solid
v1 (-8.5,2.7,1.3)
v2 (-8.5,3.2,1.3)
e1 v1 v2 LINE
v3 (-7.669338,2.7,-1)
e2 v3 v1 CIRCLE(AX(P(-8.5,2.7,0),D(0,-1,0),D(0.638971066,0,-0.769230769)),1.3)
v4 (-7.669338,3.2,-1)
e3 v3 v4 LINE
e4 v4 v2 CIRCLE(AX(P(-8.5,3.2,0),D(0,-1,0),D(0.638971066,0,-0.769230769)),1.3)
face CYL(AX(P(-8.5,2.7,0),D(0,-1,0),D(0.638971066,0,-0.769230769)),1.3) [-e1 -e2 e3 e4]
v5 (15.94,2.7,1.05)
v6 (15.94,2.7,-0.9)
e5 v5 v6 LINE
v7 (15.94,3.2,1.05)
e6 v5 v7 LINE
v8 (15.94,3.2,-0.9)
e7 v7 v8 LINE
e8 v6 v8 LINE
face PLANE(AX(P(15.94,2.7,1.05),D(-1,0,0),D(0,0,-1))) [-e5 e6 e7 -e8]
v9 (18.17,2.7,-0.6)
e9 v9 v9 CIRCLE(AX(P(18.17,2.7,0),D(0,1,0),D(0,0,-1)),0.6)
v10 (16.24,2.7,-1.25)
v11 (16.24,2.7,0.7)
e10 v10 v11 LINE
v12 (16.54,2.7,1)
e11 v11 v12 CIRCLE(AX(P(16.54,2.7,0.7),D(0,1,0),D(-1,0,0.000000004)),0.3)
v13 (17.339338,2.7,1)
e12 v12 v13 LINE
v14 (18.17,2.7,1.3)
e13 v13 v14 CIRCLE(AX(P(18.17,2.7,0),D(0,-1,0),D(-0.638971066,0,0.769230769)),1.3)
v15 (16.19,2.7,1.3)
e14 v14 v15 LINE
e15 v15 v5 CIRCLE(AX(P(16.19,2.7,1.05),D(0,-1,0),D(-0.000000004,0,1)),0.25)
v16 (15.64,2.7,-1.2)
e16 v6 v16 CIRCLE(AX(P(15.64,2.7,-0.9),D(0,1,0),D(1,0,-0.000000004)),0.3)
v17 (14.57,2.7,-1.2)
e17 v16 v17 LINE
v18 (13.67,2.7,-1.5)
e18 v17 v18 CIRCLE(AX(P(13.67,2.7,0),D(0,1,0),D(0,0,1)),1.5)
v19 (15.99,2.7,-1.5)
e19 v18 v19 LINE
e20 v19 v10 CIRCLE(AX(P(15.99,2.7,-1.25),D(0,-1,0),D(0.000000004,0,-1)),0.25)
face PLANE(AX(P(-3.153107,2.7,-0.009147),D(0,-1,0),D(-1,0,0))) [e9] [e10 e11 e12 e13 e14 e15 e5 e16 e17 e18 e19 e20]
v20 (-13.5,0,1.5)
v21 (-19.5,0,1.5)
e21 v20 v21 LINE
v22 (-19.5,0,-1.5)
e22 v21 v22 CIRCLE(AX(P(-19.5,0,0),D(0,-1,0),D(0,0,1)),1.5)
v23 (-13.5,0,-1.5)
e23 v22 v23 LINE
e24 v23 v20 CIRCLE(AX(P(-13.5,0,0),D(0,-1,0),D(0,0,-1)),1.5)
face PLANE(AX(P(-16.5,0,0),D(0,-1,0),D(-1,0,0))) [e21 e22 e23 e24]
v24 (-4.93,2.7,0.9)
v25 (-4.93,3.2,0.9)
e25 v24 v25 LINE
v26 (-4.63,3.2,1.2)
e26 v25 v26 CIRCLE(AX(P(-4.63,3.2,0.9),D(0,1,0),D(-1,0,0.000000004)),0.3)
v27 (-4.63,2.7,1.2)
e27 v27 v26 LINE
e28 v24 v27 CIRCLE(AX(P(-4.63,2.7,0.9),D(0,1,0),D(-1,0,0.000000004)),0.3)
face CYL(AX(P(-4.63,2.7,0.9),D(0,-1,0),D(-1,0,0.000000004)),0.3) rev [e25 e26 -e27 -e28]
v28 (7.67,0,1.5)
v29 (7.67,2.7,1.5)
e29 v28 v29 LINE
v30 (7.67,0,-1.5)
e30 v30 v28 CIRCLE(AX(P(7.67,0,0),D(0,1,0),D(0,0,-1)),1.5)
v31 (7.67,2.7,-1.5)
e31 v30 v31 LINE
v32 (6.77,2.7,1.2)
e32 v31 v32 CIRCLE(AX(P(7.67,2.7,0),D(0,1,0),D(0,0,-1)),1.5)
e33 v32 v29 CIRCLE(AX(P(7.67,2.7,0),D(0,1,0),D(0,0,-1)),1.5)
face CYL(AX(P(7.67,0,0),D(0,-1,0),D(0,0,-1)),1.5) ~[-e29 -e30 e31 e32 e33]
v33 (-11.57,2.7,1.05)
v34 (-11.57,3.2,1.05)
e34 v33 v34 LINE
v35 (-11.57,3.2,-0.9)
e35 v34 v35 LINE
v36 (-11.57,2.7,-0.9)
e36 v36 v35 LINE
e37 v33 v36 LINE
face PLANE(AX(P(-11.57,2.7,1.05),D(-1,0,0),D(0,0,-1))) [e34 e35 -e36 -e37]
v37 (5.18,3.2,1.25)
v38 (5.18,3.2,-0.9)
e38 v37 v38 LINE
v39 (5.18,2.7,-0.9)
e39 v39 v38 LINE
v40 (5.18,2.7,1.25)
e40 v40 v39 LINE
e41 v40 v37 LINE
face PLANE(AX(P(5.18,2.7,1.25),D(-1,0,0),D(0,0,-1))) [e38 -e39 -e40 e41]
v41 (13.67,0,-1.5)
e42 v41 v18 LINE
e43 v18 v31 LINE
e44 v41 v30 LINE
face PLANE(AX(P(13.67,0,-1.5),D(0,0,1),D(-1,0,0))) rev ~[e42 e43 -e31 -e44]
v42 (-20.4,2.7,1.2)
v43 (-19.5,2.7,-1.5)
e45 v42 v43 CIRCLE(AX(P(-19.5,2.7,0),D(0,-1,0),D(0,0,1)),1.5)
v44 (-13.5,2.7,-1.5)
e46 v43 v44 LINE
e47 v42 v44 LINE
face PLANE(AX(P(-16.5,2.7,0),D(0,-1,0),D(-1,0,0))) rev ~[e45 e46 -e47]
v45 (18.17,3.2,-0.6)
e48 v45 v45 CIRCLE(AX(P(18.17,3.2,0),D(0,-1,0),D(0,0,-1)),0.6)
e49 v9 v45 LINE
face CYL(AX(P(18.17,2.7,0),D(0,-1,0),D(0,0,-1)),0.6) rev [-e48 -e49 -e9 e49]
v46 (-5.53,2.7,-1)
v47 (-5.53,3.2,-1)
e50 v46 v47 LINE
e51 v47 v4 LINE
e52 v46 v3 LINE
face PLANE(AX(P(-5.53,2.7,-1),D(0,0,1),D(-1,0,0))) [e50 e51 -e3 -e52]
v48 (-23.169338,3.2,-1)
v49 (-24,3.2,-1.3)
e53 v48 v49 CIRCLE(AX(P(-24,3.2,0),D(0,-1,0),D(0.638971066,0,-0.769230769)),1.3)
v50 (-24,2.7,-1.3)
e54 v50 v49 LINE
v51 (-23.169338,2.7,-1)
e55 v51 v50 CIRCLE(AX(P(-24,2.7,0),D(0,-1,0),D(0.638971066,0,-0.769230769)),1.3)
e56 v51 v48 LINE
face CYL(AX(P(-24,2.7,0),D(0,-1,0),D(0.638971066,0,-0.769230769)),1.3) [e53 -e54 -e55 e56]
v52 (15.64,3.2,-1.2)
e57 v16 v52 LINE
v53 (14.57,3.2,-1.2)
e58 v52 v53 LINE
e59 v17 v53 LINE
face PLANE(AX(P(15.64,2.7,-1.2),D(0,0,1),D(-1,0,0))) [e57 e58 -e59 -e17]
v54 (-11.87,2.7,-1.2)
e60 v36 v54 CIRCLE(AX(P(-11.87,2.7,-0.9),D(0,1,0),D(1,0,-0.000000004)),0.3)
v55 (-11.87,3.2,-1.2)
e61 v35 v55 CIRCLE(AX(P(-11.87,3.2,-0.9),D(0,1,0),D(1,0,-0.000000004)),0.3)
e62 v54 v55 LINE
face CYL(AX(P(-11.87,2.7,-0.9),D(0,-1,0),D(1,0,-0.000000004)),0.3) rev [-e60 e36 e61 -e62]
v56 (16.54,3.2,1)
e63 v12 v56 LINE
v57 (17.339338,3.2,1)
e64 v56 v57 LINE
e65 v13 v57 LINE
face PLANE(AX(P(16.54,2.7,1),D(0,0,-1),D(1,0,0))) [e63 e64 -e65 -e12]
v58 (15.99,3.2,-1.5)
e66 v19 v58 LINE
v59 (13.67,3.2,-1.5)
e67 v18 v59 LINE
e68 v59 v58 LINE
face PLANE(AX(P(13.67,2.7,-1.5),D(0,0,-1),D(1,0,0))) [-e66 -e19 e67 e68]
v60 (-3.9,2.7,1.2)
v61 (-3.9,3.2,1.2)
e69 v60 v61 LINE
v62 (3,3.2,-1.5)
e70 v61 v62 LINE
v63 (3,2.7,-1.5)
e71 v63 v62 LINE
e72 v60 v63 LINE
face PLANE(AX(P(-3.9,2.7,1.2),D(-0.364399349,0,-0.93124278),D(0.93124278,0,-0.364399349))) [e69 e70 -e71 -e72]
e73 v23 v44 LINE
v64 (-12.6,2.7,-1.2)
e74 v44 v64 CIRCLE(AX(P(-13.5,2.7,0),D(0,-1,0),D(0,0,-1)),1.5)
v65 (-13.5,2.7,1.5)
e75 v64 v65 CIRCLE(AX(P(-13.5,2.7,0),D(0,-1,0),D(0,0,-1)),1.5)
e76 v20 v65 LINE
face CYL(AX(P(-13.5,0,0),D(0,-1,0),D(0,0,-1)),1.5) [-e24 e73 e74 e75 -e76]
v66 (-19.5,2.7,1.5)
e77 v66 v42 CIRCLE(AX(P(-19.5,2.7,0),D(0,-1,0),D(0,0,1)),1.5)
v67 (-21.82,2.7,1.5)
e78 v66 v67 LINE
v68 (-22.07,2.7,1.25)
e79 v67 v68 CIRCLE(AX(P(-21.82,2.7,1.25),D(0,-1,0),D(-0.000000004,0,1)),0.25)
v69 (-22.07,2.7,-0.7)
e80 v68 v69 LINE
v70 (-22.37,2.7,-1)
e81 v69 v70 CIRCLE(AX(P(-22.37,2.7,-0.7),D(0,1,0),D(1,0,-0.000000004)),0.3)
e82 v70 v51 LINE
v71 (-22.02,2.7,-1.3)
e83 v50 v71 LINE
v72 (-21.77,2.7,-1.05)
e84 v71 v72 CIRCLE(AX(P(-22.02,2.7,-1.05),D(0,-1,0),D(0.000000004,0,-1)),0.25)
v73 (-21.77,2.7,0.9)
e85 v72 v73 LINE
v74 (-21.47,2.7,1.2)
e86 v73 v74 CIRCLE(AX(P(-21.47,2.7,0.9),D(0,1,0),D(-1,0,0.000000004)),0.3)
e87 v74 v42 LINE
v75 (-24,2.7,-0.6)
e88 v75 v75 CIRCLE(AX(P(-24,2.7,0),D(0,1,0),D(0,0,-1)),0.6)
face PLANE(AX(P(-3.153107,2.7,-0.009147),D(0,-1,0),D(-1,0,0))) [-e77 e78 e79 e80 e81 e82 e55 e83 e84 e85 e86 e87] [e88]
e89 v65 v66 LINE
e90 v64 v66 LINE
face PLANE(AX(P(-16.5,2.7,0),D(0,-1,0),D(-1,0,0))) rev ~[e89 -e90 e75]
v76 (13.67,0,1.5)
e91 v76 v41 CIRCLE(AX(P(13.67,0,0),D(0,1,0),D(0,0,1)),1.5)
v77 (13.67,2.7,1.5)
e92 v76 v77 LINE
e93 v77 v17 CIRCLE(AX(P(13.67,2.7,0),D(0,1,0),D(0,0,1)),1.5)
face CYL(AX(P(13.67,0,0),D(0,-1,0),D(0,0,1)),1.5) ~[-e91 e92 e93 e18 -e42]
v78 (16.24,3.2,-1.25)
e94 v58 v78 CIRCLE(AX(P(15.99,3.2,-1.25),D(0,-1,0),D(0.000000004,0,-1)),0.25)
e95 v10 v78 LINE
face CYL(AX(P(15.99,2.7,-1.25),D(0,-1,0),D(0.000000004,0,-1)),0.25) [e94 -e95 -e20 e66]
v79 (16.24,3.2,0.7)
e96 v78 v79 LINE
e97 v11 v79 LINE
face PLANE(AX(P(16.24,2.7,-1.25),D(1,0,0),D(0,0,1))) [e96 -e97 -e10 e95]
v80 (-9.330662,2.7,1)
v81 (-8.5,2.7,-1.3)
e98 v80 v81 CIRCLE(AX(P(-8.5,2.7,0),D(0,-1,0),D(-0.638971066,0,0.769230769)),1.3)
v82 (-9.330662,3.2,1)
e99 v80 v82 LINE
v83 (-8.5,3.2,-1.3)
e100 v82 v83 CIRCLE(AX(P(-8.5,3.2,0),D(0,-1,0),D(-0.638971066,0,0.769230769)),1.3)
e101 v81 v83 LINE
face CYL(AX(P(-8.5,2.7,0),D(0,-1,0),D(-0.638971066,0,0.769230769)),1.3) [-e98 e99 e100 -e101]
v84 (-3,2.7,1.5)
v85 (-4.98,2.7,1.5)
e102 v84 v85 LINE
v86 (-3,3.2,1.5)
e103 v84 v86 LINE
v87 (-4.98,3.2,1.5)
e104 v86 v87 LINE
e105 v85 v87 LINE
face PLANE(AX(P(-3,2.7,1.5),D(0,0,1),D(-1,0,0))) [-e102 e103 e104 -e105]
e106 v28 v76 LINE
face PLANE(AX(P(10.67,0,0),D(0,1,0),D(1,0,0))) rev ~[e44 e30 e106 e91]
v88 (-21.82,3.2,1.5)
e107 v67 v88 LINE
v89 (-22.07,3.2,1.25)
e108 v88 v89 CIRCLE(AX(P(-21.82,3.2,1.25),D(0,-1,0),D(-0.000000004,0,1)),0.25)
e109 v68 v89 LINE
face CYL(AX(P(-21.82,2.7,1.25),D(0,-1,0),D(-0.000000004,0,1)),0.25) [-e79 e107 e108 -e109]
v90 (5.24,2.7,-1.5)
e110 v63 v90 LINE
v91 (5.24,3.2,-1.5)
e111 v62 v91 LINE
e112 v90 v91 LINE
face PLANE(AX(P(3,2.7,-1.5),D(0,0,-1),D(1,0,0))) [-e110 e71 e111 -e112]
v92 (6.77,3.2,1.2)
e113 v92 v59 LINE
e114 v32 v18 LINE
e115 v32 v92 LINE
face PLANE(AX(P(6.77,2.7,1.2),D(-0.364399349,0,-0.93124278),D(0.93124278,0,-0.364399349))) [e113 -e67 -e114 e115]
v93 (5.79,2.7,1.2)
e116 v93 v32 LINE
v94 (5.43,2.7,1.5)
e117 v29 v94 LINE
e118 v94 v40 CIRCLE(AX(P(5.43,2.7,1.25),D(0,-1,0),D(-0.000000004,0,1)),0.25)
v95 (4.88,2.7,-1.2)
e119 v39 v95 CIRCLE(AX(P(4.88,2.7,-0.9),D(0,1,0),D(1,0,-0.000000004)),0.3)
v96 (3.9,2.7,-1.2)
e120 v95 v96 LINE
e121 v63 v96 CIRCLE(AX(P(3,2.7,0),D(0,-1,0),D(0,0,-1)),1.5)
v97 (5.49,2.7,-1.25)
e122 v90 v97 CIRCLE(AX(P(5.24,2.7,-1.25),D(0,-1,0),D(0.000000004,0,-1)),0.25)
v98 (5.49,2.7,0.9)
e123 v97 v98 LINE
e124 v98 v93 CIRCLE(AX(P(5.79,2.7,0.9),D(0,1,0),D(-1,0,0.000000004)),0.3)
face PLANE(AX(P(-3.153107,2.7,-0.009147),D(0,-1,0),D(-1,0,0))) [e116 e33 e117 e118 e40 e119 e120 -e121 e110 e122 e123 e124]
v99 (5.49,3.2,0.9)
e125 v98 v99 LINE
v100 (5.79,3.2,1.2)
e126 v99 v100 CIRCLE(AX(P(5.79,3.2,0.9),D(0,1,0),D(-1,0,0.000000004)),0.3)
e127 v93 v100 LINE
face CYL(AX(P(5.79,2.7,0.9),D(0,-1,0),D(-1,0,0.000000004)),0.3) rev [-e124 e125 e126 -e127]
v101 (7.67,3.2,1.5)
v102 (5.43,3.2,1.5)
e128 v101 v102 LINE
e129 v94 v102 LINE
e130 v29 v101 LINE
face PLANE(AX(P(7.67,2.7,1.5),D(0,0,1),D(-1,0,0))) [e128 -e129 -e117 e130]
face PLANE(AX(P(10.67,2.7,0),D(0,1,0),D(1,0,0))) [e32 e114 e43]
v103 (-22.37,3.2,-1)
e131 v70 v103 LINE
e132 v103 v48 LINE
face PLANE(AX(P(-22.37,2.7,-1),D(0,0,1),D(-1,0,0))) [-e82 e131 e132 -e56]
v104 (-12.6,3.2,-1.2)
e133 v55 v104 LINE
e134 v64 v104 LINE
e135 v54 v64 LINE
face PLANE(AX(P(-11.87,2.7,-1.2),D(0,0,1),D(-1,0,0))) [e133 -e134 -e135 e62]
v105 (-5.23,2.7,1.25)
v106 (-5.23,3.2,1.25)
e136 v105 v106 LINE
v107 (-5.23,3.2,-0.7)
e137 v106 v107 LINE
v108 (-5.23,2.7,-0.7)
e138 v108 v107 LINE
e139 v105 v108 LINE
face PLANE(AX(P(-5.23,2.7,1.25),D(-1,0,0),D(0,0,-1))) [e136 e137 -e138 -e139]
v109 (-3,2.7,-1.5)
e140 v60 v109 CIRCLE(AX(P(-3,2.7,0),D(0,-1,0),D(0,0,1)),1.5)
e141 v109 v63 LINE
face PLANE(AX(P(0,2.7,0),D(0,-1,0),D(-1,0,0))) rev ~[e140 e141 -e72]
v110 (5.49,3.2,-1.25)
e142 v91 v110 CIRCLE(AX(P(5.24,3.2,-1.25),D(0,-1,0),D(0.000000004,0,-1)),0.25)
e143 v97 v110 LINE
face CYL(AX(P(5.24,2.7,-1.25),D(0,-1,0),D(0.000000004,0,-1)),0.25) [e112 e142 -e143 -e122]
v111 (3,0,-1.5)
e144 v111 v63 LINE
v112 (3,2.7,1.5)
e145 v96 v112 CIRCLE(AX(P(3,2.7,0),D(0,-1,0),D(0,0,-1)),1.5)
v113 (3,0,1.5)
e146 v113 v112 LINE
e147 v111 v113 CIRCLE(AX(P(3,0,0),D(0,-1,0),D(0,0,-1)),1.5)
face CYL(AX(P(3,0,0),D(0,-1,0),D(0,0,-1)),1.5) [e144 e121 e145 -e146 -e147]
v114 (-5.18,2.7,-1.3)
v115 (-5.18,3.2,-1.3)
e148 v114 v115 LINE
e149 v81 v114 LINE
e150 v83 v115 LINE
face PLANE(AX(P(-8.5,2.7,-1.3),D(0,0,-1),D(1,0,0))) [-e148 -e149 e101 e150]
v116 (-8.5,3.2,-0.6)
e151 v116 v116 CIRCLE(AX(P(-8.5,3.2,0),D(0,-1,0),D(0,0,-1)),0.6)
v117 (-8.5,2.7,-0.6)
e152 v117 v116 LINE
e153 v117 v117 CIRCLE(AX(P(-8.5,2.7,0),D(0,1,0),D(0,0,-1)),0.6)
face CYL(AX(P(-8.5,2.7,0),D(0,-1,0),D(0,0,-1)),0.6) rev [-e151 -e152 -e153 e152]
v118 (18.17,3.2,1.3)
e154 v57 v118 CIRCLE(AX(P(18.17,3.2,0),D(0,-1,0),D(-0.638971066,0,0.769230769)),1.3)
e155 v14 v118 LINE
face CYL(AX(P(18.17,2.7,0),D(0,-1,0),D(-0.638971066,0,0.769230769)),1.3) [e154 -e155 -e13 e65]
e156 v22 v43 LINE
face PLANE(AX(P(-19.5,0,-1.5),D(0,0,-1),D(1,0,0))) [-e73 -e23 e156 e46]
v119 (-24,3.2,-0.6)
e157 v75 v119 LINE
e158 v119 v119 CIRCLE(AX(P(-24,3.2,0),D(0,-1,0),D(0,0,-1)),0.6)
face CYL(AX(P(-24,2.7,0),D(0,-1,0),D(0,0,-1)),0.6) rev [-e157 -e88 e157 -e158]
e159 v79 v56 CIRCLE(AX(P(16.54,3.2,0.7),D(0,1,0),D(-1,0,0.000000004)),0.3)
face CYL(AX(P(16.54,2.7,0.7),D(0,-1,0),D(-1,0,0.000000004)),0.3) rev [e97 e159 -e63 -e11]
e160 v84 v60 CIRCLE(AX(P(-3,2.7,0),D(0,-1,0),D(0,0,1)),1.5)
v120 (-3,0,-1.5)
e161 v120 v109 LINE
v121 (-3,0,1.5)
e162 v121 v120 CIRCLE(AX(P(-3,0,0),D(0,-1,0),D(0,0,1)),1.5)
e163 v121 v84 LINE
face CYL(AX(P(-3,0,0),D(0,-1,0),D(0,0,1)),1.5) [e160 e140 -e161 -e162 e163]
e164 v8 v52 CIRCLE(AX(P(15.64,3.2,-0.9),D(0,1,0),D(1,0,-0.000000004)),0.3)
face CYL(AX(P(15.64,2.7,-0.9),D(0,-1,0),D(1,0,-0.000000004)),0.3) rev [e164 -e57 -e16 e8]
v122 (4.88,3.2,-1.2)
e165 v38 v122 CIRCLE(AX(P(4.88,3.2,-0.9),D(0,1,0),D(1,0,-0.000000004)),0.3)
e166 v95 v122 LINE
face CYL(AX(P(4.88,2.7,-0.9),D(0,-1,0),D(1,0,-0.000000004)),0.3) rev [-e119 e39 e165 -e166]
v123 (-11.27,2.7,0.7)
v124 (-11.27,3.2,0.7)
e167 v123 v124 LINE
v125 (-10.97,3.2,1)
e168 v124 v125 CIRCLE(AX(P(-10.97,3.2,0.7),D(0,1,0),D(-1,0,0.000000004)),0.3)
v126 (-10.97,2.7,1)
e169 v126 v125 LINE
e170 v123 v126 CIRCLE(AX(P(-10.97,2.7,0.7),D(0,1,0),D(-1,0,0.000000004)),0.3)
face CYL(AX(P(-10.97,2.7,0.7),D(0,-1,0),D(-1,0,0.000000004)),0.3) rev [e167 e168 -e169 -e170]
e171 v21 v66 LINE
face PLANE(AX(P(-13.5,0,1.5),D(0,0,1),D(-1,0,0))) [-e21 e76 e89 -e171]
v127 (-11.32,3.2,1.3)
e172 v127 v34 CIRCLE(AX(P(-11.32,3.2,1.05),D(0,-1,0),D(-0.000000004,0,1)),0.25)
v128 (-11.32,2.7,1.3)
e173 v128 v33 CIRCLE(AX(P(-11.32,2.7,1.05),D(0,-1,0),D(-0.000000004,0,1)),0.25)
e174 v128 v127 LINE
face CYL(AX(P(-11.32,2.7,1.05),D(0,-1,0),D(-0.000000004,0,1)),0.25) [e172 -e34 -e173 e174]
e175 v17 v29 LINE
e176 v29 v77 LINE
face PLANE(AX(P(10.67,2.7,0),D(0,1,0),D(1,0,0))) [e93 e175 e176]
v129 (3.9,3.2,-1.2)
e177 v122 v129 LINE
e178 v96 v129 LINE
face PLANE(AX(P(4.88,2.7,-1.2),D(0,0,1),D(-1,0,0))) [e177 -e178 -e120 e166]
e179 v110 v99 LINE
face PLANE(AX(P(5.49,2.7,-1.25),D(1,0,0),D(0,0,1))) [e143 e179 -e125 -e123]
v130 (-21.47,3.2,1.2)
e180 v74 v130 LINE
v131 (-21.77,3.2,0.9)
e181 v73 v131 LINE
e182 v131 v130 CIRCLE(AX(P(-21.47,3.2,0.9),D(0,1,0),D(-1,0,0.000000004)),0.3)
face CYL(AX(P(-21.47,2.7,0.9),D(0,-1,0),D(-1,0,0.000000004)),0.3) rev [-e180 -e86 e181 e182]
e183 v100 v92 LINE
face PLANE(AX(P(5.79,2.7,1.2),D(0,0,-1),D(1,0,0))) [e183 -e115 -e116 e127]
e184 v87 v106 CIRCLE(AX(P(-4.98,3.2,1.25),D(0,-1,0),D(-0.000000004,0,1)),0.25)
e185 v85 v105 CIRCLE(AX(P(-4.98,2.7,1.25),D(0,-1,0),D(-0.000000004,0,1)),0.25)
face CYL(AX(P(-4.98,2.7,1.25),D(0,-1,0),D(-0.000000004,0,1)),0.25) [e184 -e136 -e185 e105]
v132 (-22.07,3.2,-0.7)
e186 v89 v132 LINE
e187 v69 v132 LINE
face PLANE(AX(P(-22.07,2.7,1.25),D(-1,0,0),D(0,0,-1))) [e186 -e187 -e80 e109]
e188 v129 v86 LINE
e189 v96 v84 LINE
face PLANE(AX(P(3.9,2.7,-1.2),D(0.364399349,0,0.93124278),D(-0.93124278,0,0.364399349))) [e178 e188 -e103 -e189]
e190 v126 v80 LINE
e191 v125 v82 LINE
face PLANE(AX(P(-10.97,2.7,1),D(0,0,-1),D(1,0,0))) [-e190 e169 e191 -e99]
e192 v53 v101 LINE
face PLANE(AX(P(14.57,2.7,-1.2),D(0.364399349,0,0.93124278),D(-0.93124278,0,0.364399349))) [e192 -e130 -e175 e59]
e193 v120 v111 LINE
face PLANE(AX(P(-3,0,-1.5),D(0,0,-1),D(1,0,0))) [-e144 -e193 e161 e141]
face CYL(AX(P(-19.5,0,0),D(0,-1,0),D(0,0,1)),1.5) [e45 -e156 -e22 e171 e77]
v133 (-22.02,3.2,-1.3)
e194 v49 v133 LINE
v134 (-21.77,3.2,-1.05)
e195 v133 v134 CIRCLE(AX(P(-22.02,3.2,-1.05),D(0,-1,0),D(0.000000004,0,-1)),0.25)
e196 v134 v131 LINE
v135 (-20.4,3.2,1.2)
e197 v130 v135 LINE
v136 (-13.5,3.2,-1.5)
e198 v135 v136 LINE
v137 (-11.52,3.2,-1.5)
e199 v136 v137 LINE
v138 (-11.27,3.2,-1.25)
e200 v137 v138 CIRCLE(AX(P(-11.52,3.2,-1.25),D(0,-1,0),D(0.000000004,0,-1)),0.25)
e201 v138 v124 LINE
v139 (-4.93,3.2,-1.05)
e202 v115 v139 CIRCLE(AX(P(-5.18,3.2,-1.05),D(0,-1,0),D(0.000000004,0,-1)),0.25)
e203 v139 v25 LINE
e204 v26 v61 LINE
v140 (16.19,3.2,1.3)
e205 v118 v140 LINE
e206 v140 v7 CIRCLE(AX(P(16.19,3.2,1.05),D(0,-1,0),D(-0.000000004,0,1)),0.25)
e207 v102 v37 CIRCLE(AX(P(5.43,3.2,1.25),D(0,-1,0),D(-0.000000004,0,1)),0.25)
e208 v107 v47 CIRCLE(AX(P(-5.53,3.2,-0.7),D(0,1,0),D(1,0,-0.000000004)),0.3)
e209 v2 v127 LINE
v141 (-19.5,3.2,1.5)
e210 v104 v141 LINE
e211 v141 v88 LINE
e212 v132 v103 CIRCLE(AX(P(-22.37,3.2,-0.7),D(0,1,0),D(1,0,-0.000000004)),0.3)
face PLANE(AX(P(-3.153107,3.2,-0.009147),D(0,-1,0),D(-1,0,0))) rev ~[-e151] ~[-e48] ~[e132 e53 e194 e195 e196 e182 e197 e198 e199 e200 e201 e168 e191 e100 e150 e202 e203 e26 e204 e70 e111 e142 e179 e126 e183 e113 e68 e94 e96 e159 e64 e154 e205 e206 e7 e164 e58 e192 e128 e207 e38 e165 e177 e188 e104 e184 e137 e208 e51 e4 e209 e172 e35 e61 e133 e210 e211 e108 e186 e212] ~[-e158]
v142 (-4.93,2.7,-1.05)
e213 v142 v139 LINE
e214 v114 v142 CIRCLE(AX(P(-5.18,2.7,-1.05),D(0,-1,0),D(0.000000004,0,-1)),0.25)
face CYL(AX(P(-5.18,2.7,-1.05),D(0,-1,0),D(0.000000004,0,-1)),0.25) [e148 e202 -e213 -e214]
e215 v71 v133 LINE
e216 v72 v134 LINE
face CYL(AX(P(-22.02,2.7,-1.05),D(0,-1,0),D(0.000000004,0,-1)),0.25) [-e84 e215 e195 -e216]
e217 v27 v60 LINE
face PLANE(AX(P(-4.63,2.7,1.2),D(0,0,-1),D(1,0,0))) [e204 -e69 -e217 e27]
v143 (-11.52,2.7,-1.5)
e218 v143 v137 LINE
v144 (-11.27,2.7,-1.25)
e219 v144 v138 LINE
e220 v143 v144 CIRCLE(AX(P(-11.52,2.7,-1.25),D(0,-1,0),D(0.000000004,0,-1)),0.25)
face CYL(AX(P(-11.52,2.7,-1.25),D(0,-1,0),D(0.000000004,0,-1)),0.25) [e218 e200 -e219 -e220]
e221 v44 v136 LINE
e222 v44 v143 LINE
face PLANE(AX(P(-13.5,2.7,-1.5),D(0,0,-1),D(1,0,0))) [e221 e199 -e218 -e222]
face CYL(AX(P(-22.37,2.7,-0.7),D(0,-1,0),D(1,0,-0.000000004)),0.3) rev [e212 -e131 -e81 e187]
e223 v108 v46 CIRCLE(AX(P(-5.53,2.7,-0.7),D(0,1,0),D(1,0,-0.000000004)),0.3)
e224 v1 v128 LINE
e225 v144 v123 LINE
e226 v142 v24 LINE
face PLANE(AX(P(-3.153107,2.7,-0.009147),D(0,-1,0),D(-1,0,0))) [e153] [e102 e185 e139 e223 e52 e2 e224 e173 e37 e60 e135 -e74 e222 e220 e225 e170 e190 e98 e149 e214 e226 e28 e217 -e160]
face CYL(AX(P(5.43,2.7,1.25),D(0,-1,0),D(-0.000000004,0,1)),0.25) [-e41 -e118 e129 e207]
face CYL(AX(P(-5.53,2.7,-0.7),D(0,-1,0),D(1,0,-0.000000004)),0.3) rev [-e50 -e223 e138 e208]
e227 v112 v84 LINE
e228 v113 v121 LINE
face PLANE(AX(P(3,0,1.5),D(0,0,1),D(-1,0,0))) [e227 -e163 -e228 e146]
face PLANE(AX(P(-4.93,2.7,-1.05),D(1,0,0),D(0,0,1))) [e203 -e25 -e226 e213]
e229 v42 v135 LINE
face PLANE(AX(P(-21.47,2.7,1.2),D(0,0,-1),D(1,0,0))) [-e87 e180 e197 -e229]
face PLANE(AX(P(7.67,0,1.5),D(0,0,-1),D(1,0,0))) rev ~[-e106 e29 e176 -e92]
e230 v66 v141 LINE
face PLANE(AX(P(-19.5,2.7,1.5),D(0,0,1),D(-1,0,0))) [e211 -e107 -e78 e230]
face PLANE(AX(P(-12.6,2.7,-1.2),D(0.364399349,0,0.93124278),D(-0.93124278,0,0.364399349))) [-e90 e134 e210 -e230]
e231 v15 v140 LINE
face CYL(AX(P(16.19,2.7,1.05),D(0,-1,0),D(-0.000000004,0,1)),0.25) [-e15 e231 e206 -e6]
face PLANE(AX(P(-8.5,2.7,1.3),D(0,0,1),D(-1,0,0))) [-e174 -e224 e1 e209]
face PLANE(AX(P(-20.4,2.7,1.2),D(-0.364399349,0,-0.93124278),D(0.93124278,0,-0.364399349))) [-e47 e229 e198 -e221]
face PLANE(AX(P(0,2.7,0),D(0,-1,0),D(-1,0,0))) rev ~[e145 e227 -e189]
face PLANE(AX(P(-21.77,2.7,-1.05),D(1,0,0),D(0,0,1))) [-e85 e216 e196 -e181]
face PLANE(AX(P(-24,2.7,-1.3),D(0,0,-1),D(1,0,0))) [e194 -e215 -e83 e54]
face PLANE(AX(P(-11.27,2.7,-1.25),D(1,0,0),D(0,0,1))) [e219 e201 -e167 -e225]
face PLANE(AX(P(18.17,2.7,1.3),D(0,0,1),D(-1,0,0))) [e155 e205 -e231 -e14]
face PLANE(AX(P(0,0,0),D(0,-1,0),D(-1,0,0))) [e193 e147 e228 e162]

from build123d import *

# Parameters (mm, degrees)
EXTRUDE_1_DEPTH     = 2.7
EXTRUDE_1_2_DEPTH   = 2.7
EXTRUDE_1_3_DEPTH   = 2.7
EXTRUDE_2_DEPTH     = 0.5
CUT_EXTRUDE_1_REACH = 27.488
SKETCH_2_3_R        = 0.6


with BuildPart() as part:
    # 草图1 → 凸台-拉伸1 (new body)
    with BuildSketch(Plane(origin=(0, 0, 0), x_dir=(1, 0, 0), z_dir=(0, 1, 0))):
        with BuildLine():
            Line((3, 1.5), (-3, 1.5))
            ThreePointArc((-3, 1.5), (-4.5, 0), (-3, -1.5))
            Line((-3, -1.5), (3, -1.5))
            ThreePointArc((3, -1.5), (4.5, 0), (3, 1.5))
        make_face()
    extrude(amount=EXTRUDE_1_DEPTH)



with BuildPart() as body_2:
    # 草图1 → Extrude 1 2 (new body)
    with BuildSketch(Plane(origin=(0, 0, 0), x_dir=(1, 0, 0), z_dir=(0, 1, 0))):
        with BuildLine():
            Line((-13.5, 1.5), (-19.5, 1.5))
            ThreePointArc((-19.5, 1.5), (-21, 0), (-19.5, -1.5))
            Line((-19.5, -1.5), (-13.5, -1.5))
            ThreePointArc((-13.5, -1.5), (-12, 0), (-13.5, 1.5))
        make_face()
    extrude(amount=EXTRUDE_1_2_DEPTH)


with BuildPart() as body_3:
    # 草图1 → Extrude 1 3 (new body)
    with BuildSketch(Plane(origin=(0, 0, 0), x_dir=(1, 0, 0), z_dir=(0, 1, 0))):
        with BuildLine():
            Line((13.67, 1.5), (7.67, 1.5))
            ThreePointArc((7.67, 1.5), (6.17, 0), (7.67, -1.5))
            Line((7.67, -1.5), (13.67, -1.5))
            ThreePointArc((13.67, -1.5), (15.17, 0), (13.67, 1.5))
        make_face()
    extrude(amount=EXTRUDE_1_3_DEPTH)


with BuildPart() as part_1:
    add(part.part)

    add(body_2.part)  # 凸台-拉伸2 merges body 2

    add(body_3.part)  # 凸台-拉伸2 merges body 3
    # 草图2 → 凸台-拉伸2 (add)
    with BuildSketch(Plane(origin=(0, 2.7, 0), x_dir=(1, 0, 0), z_dir=(0, 1, 0))):
        with BuildLine():
            Line((-24, 1.3), (-22.02, 1.3))
            ThreePointArc((-22.02, 1.3), (-21.843223305, 1.226776695), (-21.77, 1.05))
            Line((-21.77, 1.05), (-21.77, -0.9))
            ThreePointArc((-21.77, -0.9), (-21.682132034, -1.112132034), (-21.47, -1.2))
            Line((-21.47, -1.2), (-20.4, -1.2))
            Line((-20.4, -1.2), (-13.5, 1.5))
            Line((-13.5, 1.5), (-11.52, 1.5))
            ThreePointArc((-11.52, 1.5), (-11.343223305, 1.426776695), (-11.27, 1.25))
            Line((-11.27, 1.25), (-11.27, -0.7))
            ThreePointArc((-11.27, -0.7), (-11.182132034, -0.912132034), (-10.97, -1))
            Line((-10.97, -1), (-9.330662386, -1))
            ThreePointArc((-9.330662386, -1), (-9.722701926, 0.441588043), (-8.5, 1.3))
            Line((-8.5, 1.3), (-5.18, 1.3))
            ThreePointArc((-5.18, 1.3), (-5.003223305, 1.226776695), (-4.93, 1.05))
            Line((-4.93, 1.05), (-4.93, -0.9))
            ThreePointArc((-4.93, -0.9), (-4.842132034, -1.112132034), (-4.63, -1.2))
            Line((-4.63, -1.2), (-3.9, -1.2))
            Line((-3.9, -1.2), (3, 1.5))
            Line((3, 1.5), (5.24, 1.5))
            ThreePointArc((5.24, 1.5), (5.416776695, 1.426776695), (5.49, 1.25))
            Line((5.49, 1.25), (5.49, -0.9))
            ThreePointArc((5.49, -0.9), (5.577867966, -1.112132034), (5.79, -1.2))
            Line((5.79, -1.2), (6.77, -1.2))
            Line((6.77, -1.2), (13.67, 1.5))
            Line((13.67, 1.5), (15.99, 1.5))
            ThreePointArc((15.99, 1.5), (16.166776695, 1.426776695), (16.24, 1.25))
            Line((16.24, 1.25), (16.24, -0.7))
            ThreePointArc((16.24, -0.7), (16.327867966, -0.912132034), (16.54, -1))
            Line((16.54, -1), (17.339337614, -1))
            ThreePointArc((17.339337614, -1), (18.611588043, 1.222701926), (18.17, -1.3))
            Line((18.17, -1.3), (16.19, -1.3))
            ThreePointArc((16.19, -1.3), (16.013223305, -1.226776695), (15.94, -1.05))
            Line((15.94, -1.05), (15.94, 0.9))
            ThreePointArc((15.94, 0.9), (15.852132034, 1.112132034), (15.64, 1.2))
            Line((15.64, 1.2), (14.57, 1.2))
            Line((14.57, 1.2), (7.67, -1.5))
            Line((7.67, -1.5), (5.43, -1.5))
            ThreePointArc((5.43, -1.5), (5.253223305, -1.426776695), (5.18, -1.25))
            Line((5.18, -1.25), (5.18, 0.9))
            ThreePointArc((5.18, 0.9), (5.092132034, 1.112132034), (4.88, 1.2))
            Line((4.88, 1.2), (3.9, 1.2))
            Line((3.9, 1.2), (-3, -1.5))
            Line((-3, -1.5), (-4.98, -1.5))
            ThreePointArc((-4.98, -1.5), (-5.156776695, -1.426776695), (-5.23, -1.25))
            Line((-5.23, -1.25), (-5.23, 0.7))
            ThreePointArc((-5.23, 0.7), (-5.317867966, 0.912132034), (-5.53, 1))
            Line((-5.53, 1), (-7.669337614, 1))
            ThreePointArc((-7.669337614, 1), (-7.277298074, -0.441588043), (-8.5, -1.3))
            Line((-8.5, -1.3), (-11.32, -1.3))
            ThreePointArc((-11.32, -1.3), (-11.496776695, -1.226776695), (-11.57, -1.05))
            Line((-11.57, -1.05), (-11.57, 0.9))
            ThreePointArc((-11.57, 0.9), (-11.657867966, 1.112132034), (-11.87, 1.2))
            Line((-11.87, 1.2), (-12.6, 1.2))
            Line((-12.6, 1.2), (-19.5, -1.5))
            Line((-19.5, -1.5), (-21.82, -1.5))
            ThreePointArc((-21.82, -1.5), (-21.996776695, -1.426776695), (-22.07, -1.25))
            Line((-22.07, -1.25), (-22.07, 0.7))
            ThreePointArc((-22.07, 0.7), (-22.157867966, 0.912132034), (-22.37, 1))
            Line((-22.37, 1), (-23.169337614, 1))
            ThreePointArc((-23.169337614, 1), (-24.441588043, -1.222701926), (-24, 1.3))
        make_face()
    extrude(amount=EXTRUDE_2_DEPTH)

    # 草图2<3> → 切除-拉伸1 (cut, up to next)
    with BuildSketch(Plane(origin=(0, 2.7, 0), x_dir=(1, 0, 0), z_dir=(0, 1, 0)), mode=Mode.PRIVATE) as cut_extrude_1_sk1:
        with Locations((-24, 0)):
            Circle(SKETCH_2_3_R)
    cut_extrude_1_tool1 = extrude(cut_extrude_1_sk1.sketch, amount=CUT_EXTRUDE_1_REACH, mode=Mode.PRIVATE) & part_1.part
    # 草图2<3> → 切除-拉伸1 (cut, up to next)
    with BuildSketch(Plane(origin=(0, 2.7, 0), x_dir=(1, 0, 0), z_dir=(0, 1, 0)), mode=Mode.PRIVATE) as cut_extrude_1_sk2:
        with Locations((-8.5, 0)):
            Circle(SKETCH_2_3_R)
    cut_extrude_1_tool2 = extrude(cut_extrude_1_sk2.sketch, amount=CUT_EXTRUDE_1_REACH, mode=Mode.PRIVATE) & part_1.part
    # 草图2<3> → 切除-拉伸1 (cut, up to next)
    with BuildSketch(Plane(origin=(0, 2.7, 0), x_dir=(1, 0, 0), z_dir=(0, 1, 0)), mode=Mode.PRIVATE) as cut_extrude_1_sk3:
        with Locations((18.17, 0)):
            Circle(SKETCH_2_3_R)
    cut_extrude_1_tool3 = extrude(cut_extrude_1_sk3.sketch, amount=CUT_EXTRUDE_1_REACH, mode=Mode.PRIVATE) & part_1.part
    add(cut_extrude_1_tool1.solids().sort_by_distance((-24, 2.7, 0))[0], mode=Mode.SUBTRACT)
    add(cut_extrude_1_tool2.solids().sort_by_distance((-8.5, 2.7, 0))[0], mode=Mode.SUBTRACT)
    add(cut_extrude_1_tool3.solids().sort_by_distance((18.17, 2.7, 0))[0], mode=Mode.SUBTRACT)


solid = part_1.part
